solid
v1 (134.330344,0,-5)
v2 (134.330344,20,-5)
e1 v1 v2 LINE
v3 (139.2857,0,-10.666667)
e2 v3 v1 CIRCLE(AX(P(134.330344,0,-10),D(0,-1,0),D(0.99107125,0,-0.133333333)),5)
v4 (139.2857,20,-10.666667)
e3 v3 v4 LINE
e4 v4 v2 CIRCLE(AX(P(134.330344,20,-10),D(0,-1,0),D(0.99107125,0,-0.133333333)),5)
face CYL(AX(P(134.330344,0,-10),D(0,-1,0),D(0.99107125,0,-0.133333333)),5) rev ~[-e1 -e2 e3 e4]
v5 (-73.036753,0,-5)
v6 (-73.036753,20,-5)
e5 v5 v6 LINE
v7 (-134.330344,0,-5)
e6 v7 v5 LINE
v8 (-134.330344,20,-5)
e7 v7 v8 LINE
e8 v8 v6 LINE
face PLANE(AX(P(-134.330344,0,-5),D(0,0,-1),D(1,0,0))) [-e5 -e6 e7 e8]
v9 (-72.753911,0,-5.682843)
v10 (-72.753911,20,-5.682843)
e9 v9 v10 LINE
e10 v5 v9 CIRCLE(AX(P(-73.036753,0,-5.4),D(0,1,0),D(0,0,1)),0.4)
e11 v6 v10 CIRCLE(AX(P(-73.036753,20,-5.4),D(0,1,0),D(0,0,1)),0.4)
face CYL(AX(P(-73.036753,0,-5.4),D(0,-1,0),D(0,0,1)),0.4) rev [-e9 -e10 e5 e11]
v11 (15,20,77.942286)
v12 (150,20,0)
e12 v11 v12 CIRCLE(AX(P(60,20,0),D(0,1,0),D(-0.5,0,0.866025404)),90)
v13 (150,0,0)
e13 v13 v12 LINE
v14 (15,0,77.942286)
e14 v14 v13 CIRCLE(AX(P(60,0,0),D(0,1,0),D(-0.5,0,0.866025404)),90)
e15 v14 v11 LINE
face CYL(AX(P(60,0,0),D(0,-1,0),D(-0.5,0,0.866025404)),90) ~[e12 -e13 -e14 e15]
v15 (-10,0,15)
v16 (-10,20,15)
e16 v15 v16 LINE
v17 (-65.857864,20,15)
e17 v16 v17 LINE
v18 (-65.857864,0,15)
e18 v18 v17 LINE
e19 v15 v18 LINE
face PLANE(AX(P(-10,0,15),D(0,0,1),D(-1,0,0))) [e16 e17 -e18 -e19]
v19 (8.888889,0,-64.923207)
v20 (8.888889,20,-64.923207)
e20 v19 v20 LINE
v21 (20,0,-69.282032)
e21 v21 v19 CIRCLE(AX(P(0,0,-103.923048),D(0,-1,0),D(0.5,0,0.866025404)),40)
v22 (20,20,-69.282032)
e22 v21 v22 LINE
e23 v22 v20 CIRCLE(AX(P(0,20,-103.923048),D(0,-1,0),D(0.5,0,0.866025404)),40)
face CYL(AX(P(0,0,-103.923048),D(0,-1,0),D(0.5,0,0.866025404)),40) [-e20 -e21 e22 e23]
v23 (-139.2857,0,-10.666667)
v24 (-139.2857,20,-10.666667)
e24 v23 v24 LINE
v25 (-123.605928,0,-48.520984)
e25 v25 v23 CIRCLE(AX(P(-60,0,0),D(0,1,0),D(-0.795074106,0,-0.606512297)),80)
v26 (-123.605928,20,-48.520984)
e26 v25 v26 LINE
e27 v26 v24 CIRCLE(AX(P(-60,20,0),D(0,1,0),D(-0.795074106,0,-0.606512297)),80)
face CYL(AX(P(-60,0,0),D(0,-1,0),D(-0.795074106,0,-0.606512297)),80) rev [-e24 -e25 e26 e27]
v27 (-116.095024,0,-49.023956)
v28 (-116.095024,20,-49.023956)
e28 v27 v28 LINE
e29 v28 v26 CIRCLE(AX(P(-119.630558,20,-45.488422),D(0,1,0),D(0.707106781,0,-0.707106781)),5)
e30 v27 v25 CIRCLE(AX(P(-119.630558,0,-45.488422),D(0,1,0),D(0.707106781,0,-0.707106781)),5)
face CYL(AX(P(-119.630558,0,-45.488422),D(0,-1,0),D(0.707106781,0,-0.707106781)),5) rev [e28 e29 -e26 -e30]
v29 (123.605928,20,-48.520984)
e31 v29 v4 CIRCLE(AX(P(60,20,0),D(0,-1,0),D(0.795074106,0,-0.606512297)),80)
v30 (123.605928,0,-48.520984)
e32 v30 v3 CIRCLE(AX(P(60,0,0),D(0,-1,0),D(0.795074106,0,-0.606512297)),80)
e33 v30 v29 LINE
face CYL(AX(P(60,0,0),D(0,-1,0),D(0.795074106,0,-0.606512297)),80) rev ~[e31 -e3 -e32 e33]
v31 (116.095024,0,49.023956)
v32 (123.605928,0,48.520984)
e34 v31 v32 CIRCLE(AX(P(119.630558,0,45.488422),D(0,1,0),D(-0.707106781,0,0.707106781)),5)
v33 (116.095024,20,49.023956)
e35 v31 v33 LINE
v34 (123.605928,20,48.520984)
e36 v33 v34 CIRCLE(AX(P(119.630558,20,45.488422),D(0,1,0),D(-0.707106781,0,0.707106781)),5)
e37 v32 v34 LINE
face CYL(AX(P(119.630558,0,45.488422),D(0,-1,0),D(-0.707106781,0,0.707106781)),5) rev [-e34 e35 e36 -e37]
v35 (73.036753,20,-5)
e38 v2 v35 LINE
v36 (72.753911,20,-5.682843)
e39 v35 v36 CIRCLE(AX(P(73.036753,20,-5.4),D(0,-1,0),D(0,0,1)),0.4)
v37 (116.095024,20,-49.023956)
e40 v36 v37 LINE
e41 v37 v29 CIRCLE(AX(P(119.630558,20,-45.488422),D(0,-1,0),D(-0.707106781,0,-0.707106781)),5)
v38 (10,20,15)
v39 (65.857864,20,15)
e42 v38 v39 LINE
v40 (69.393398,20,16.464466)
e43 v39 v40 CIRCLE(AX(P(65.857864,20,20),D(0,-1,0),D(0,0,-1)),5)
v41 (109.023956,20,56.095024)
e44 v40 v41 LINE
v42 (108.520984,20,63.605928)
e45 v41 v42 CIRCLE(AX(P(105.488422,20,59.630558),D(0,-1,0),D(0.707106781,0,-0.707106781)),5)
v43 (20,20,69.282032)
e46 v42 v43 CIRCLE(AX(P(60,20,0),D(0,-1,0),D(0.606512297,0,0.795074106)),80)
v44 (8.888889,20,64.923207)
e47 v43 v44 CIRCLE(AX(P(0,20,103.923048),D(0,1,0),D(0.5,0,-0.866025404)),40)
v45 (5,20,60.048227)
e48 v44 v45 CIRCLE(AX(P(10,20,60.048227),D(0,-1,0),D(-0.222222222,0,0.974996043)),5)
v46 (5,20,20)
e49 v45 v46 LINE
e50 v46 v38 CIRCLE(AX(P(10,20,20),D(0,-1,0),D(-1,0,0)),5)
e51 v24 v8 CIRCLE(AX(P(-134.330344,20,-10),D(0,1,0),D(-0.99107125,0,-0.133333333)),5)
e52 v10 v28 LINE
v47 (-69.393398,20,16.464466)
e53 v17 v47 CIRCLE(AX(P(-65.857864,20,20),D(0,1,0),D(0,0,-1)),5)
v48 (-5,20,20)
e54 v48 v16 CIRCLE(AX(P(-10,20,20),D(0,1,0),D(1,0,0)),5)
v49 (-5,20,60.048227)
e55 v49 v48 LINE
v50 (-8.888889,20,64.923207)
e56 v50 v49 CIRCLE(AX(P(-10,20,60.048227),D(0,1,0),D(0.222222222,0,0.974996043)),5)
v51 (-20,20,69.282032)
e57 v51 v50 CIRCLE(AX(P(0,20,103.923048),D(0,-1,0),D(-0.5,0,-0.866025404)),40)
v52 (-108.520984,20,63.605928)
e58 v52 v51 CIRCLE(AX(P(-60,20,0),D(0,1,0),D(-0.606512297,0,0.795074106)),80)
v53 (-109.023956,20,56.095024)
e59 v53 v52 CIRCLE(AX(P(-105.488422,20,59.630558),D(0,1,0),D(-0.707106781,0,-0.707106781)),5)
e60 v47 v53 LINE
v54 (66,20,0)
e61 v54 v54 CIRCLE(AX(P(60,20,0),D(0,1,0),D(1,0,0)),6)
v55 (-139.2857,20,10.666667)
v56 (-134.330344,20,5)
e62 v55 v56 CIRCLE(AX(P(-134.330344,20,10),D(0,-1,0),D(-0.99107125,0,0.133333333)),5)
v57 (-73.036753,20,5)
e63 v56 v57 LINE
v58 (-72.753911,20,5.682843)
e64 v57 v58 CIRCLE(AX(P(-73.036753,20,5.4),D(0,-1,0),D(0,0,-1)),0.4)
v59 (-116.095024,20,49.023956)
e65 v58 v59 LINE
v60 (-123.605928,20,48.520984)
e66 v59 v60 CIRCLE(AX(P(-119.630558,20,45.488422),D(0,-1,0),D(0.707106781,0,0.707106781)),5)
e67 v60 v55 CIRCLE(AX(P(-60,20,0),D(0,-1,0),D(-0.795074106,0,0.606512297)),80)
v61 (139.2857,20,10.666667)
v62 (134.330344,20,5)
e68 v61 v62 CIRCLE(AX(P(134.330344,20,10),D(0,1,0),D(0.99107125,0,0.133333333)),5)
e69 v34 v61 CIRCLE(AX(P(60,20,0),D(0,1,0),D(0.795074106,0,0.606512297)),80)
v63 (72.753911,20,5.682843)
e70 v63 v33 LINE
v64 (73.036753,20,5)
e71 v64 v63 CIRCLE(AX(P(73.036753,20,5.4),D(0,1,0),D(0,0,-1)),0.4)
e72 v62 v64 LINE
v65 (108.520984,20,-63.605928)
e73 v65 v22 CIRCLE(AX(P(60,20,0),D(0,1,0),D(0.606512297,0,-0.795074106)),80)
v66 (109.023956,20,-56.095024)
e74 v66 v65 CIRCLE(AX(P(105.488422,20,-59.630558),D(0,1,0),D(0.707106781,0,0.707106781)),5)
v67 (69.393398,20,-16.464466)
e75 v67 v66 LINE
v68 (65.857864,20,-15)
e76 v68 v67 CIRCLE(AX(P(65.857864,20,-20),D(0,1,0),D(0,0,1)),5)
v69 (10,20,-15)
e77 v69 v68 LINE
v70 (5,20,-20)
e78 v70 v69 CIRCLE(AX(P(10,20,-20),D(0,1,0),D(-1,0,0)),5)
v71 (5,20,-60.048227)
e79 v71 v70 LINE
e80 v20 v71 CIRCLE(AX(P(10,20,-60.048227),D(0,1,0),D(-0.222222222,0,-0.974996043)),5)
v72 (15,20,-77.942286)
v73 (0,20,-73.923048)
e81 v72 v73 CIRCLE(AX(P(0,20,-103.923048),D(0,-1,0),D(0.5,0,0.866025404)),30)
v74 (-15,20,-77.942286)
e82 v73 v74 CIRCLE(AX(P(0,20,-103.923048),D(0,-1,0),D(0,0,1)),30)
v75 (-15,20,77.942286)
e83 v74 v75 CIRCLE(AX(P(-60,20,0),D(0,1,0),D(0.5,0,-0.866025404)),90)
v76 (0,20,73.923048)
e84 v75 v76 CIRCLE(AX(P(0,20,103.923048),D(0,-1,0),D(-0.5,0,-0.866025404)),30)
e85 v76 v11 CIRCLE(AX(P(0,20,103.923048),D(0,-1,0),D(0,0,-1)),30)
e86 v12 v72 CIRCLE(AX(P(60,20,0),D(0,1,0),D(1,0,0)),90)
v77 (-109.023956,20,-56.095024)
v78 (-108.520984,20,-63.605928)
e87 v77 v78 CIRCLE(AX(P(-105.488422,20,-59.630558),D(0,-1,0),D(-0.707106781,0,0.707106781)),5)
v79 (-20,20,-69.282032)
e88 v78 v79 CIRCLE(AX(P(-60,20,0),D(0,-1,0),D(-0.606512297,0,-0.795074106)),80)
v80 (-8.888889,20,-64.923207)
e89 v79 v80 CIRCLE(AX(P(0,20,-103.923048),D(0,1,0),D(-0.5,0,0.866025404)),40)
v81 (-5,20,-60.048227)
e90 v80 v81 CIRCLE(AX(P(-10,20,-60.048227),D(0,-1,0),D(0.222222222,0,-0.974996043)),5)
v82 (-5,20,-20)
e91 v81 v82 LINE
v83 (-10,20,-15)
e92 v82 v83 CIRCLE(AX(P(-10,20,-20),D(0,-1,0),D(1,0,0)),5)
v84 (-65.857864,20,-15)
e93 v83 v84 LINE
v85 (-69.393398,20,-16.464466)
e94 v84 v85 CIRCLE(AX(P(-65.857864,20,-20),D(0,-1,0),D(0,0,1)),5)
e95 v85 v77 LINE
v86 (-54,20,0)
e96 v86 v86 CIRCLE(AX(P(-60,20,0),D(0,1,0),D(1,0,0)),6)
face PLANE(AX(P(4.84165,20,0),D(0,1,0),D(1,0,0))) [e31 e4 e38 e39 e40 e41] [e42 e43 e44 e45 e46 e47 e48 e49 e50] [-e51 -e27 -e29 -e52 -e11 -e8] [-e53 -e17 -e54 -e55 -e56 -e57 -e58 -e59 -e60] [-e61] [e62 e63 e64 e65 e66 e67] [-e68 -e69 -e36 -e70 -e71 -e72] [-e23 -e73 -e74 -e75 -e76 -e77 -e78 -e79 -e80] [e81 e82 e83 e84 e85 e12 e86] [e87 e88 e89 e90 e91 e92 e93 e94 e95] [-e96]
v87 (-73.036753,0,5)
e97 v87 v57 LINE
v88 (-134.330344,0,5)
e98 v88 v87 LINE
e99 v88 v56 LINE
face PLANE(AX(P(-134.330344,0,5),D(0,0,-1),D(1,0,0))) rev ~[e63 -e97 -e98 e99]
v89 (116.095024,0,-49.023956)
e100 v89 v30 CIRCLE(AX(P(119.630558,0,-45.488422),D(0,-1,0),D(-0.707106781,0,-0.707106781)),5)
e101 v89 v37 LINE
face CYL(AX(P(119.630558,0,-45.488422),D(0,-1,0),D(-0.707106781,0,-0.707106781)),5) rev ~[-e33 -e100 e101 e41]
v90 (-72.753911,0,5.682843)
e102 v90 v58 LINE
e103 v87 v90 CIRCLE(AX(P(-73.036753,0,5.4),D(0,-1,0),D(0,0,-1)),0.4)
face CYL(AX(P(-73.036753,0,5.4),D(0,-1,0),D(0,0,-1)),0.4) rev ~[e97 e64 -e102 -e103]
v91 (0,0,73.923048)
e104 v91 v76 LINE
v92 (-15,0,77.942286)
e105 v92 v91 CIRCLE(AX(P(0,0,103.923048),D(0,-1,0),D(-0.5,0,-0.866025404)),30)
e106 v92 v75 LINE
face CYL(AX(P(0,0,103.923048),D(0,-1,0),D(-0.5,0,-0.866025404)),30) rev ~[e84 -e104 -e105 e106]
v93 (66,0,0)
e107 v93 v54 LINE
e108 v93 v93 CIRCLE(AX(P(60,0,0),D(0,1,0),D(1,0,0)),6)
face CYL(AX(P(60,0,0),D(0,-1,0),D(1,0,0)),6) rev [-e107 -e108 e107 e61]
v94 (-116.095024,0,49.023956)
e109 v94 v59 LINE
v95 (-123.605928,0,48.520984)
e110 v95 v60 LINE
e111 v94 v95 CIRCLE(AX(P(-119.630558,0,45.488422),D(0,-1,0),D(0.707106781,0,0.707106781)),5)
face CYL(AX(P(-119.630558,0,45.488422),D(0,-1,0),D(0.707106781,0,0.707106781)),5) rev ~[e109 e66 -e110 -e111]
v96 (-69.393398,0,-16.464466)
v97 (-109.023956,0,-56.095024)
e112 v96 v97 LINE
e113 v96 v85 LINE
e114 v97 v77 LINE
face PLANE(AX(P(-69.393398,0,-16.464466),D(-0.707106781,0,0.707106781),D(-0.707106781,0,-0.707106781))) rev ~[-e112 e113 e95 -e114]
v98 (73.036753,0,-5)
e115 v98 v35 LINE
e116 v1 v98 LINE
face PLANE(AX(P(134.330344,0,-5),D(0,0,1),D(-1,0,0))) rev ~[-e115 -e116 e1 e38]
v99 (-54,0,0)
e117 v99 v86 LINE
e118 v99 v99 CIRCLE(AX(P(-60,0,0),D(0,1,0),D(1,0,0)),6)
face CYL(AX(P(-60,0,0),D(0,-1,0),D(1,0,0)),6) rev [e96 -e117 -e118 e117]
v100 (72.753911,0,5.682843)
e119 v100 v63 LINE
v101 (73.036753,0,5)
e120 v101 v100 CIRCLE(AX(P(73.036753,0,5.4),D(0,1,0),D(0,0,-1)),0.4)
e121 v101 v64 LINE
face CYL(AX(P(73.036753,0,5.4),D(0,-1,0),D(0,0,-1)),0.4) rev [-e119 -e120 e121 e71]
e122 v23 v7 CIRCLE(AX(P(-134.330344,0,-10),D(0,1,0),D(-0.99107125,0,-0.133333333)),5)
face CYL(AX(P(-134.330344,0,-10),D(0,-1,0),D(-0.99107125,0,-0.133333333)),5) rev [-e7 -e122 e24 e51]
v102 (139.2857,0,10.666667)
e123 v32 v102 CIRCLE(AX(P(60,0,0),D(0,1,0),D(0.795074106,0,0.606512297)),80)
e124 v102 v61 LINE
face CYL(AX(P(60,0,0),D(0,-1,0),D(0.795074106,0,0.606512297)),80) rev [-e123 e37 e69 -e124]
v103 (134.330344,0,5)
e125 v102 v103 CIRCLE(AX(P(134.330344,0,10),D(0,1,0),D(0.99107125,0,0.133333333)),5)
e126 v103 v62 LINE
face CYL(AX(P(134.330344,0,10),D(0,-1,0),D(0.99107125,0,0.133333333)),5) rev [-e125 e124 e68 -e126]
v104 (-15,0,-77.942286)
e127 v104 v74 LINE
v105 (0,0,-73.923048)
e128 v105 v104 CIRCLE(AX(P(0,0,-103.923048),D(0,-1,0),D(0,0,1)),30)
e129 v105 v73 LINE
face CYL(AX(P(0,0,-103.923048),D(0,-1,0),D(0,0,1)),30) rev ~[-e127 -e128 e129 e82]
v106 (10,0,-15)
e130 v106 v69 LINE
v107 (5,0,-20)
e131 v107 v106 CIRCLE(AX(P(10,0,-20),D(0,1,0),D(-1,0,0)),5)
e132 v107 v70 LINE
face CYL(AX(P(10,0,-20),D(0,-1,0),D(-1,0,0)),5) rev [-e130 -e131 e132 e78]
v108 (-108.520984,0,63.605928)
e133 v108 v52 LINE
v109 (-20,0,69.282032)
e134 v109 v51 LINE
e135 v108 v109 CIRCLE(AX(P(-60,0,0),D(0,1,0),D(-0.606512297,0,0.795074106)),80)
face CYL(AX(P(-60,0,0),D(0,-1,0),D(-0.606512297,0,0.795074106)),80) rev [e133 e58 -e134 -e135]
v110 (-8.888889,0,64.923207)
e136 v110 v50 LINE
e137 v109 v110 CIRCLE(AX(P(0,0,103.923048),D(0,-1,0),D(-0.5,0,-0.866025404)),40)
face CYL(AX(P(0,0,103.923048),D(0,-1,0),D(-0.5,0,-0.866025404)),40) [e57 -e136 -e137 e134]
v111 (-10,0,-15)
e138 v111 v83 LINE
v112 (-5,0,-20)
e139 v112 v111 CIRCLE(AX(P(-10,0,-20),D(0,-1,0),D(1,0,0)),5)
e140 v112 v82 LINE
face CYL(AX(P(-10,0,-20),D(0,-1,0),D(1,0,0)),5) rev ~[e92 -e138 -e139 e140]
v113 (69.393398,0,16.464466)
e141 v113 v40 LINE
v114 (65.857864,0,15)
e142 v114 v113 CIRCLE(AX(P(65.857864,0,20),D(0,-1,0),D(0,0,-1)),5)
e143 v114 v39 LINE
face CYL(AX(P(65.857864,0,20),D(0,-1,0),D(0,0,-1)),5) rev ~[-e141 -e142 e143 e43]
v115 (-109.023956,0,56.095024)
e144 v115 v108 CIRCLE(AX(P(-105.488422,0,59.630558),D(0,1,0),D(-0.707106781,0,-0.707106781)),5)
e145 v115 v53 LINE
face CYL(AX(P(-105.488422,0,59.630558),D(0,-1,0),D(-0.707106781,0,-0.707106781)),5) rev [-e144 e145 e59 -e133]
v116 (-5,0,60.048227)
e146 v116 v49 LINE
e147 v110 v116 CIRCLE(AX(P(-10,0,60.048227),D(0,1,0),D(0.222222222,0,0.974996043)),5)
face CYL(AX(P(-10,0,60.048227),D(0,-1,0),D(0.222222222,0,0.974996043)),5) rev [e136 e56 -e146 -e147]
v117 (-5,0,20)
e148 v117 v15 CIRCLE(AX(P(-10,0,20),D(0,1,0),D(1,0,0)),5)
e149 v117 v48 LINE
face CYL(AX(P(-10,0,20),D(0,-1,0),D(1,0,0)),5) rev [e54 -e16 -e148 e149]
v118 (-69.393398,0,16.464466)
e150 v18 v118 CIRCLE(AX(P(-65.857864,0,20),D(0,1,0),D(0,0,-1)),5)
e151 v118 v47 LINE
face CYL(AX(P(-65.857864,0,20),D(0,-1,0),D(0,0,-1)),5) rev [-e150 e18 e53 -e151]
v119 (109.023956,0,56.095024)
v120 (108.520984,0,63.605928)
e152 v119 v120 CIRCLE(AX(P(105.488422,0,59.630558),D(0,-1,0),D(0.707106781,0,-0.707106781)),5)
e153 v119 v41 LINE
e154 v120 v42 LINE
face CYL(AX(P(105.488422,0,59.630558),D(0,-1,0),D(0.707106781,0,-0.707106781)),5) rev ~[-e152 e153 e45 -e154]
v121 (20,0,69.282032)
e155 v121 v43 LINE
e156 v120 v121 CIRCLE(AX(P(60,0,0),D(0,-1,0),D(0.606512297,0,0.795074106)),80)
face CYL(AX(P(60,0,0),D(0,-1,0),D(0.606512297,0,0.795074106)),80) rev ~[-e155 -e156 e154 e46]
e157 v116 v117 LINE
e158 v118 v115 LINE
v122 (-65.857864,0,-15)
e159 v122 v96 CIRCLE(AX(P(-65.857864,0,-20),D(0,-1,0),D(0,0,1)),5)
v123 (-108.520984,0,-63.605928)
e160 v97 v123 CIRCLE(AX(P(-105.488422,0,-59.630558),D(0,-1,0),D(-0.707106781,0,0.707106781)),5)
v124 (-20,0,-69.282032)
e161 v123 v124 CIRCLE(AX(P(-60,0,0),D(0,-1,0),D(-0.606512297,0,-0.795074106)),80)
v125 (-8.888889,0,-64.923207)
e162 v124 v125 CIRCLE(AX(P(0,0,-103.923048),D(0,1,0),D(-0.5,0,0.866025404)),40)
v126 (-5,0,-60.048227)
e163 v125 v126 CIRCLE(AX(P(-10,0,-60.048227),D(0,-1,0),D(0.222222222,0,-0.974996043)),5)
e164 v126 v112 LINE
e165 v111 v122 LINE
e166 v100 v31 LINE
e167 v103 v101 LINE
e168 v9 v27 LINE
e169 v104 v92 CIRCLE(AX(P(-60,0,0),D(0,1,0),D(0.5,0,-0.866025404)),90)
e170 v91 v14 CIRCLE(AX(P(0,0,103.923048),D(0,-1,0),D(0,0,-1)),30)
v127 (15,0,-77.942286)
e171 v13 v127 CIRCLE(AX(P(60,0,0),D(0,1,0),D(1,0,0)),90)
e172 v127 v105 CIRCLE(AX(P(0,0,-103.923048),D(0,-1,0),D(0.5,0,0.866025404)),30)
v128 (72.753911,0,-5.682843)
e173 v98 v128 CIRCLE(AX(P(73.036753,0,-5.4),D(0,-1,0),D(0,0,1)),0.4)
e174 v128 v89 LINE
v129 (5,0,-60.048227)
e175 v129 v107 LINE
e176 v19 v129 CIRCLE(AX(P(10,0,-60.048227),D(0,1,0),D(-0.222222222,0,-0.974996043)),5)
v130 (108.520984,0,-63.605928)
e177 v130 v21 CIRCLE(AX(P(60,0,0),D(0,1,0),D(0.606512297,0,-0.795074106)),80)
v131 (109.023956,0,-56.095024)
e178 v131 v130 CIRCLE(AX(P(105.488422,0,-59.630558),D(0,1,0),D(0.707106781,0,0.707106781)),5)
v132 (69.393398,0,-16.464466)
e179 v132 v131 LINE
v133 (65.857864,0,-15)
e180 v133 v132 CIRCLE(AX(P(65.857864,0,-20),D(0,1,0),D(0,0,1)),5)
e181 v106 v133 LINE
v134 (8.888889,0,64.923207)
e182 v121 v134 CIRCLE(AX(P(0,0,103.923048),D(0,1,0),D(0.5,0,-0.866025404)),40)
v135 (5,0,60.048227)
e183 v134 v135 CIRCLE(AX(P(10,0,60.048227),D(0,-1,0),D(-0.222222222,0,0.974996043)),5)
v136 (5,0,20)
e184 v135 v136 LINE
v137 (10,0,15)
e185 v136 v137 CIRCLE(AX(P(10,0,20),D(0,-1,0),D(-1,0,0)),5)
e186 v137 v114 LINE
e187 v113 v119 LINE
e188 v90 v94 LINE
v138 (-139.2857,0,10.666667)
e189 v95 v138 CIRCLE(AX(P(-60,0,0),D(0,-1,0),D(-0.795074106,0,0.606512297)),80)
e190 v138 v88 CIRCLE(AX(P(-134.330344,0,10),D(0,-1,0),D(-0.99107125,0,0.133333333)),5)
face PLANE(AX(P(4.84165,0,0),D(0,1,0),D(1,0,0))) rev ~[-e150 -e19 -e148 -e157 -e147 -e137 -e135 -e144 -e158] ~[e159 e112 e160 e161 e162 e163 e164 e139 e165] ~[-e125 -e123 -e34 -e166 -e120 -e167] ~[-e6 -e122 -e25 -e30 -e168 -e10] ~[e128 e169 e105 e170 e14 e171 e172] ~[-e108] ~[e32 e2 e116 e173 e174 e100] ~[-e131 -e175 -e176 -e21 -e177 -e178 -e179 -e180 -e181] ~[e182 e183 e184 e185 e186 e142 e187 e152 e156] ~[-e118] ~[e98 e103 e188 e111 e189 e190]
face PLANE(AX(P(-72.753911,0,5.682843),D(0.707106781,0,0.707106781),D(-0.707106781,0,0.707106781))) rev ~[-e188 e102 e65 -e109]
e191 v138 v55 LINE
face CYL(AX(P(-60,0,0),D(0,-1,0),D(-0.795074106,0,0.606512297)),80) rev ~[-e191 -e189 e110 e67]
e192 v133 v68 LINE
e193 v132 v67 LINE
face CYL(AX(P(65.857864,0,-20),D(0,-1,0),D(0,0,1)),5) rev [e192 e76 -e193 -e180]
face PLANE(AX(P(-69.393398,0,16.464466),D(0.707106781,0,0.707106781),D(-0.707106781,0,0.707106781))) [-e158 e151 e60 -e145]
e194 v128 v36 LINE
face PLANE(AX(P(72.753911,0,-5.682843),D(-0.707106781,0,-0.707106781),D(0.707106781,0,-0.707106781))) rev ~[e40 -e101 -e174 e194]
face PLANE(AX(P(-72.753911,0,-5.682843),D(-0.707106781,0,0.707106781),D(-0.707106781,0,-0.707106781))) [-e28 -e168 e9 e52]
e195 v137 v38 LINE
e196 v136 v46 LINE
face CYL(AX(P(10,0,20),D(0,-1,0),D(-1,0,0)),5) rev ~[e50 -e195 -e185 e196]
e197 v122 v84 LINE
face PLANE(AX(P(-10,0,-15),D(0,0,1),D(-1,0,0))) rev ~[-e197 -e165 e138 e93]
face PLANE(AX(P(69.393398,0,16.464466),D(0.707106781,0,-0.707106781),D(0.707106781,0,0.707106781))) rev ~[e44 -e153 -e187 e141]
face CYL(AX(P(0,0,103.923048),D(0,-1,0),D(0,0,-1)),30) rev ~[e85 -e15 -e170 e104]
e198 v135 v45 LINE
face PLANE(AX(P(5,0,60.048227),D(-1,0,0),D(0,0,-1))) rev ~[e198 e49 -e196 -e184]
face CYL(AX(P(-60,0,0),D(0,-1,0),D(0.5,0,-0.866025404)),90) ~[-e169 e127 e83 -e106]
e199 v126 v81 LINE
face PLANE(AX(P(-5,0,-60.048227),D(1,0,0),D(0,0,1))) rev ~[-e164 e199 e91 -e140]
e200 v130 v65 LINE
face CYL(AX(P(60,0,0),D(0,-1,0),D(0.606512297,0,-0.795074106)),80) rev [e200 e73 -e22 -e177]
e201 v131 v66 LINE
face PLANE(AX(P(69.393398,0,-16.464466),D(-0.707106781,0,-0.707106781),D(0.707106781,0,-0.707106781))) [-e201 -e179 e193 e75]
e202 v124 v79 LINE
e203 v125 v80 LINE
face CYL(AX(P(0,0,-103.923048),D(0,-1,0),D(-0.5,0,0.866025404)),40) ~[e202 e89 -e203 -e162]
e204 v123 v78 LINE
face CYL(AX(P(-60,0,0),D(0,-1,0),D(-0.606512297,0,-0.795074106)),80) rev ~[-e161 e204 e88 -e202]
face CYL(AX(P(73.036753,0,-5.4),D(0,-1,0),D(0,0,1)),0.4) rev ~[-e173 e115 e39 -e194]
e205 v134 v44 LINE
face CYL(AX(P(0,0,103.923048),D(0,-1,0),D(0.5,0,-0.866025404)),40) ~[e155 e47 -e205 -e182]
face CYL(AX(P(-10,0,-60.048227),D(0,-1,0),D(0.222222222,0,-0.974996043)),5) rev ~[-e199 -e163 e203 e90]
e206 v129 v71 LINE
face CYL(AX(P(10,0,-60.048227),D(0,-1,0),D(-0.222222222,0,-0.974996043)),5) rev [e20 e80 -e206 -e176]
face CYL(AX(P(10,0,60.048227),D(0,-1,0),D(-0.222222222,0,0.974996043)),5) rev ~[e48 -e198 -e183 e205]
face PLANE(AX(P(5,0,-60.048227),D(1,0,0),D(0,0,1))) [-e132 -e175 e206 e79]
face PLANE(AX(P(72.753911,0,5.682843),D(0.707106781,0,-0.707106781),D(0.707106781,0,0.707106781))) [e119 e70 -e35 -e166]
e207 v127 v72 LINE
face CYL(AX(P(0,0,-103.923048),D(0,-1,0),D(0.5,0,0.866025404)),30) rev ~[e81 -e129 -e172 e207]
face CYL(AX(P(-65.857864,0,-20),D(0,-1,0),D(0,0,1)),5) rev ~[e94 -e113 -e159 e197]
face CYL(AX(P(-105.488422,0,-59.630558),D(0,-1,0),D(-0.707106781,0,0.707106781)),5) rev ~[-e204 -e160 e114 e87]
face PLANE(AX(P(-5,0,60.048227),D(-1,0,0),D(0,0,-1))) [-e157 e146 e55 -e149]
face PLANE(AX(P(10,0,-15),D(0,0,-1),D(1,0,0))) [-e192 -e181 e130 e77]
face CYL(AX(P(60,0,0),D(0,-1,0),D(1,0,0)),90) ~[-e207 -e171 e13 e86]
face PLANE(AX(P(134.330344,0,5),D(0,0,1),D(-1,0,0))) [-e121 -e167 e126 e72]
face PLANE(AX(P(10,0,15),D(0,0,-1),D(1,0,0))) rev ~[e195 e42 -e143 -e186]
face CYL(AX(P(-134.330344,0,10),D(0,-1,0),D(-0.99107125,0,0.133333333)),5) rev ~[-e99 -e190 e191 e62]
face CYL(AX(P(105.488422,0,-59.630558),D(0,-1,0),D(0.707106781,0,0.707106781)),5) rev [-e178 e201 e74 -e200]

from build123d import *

# Parameters (mm, degrees)
SKETCH2_R           = 6
BOSS_EXTRUDE1_DEPTH = 20


with BuildPart() as part:
    # Sketch2 → Boss-Extrude1 (new body)
    with BuildSketch(Plane(origin=(0, 0, 0), x_dir=(1, 0, 0), z_dir=(0, 1, 0))):
        with BuildLine():
            ThreePointArc((150, 0), (105, 77.942286341), (15, 77.942286341))
            ThreePointArc((15, 77.942286341), (7.764571353, 74.945273665), (0, 73.923048454))
            ThreePointArc((0, 73.923048454), (-7.764571353, 74.945273665), (-15, 77.942286341))
            ThreePointArc((-15, 77.942286341), (-150, 0), (-15, -77.942286341))
            ThreePointArc((-15, -77.942286341), (-7.764571353, -74.945273665), (0, -73.923048454))
            ThreePointArc((0, -73.923048454), (7.764571353, -74.945273665), (15, -77.942286341))
            ThreePointArc((15, -77.942286341), (105, -77.942286341), (150, 0))
        make_face()
        with Locations((60, 0)):
            Circle(SKETCH2_R, mode=Mode.SUBTRACT)
        with Locations((-60, 0)):
            Circle(SKETCH2_R, mode=Mode.SUBTRACT)
        with BuildLine():
            Line((5, 60.048226517), (5, 20))
            ThreePointArc((5, 20), (6.464466094, 16.464466094), (10, 15))
            Line((10, 15), (65.857864376, 15))
            ThreePointArc((65.857864376, 15), (67.771281538, 15.380602337), (69.393398282, 16.464466094))
            Line((69.393398282, 16.464466094), (109.023956198, 56.09502401))
            ThreePointArc((109.023956198, 56.09502401), (110.47724887, 59.964637812), (108.520983778, 63.605928444))
            ThreePointArc((108.520983778, 63.605928444), (65.119211843, 79.836042425), (20, 69.282032303))
            ThreePointArc((20, 69.282032303), (14.607936726, 66.68586026), (8.888888889, 64.923206732))
            ThreePointArc((8.888888889, 64.923206732), (6.0913202, 63.166274339), (5, 60.048226517))
        make_face(mode=Mode.SUBTRACT)
        with BuildLine():
            Line((134.330343737, 5), (73.036753237, 5))
            ThreePointArc((73.036753237, 5), (72.667201424, 5.246926627), (72.753910524, 5.682842712))
            Line((72.753910524, 5.682842712), (116.09502401, 49.023956198))
            ThreePointArc((116.09502401, 49.023956198), (119.964637812, 50.47724887), (123.605928444, 48.520983778))
            ThreePointArc((123.605928444, 48.520983778), (133.910362601, 30.614674589), (139.285699986, 10.666666667))
            ThreePointArc((139.285699986, 10.666666667), (138.094207, 6.708597057), (134.330343737, 5))
        make_face(mode=Mode.SUBTRACT)
        with BuildLine():
            Line((-72.753910524, 5.682842712), (-116.09502401, 49.023956198))
            ThreePointArc((-116.09502401, 49.023956198), (-119.964637812, 50.47724887), (-123.605928444, 48.520983778))
            ThreePointArc((-123.605928444, 48.520983778), (-133.910362601, 30.614674589), (-139.285699986, 10.666666667))
            ThreePointArc((-139.285699986, 10.666666667), (-138.094207, 6.708597057), (-134.330343737, 5))
            Line((-134.330343737, 5), (-73.036753237, 5))
            ThreePointArc((-73.036753237, 5), (-72.667201424, 5.246926627), (-72.753910524, 5.682842712))
        make_face(mode=Mode.SUBTRACT)
        with BuildLine():
            Line((-69.393398282, 16.464466094), (-109.023956198, 56.09502401))
            ThreePointArc((-109.023956198, 56.09502401), (-110.47724887, 59.964637812), (-108.520983778, 63.605928444))
            ThreePointArc((-108.520983778, 63.605928444), (-65.119211843, 79.836042425), (-20, 69.282032303))
            ThreePointArc((-20, 69.282032303), (-14.607936726, 66.68586026), (-8.888888889, 64.923206732))
            ThreePointArc((-8.888888889, 64.923206732), (-6.0913202, 63.166274339), (-5, 60.048226517))
            Line((-5, 60.048226517), (-5, 20))
            ThreePointArc((-5, 20), (-6.464466094, 16.464466094), (-10, 15))
            Line((-10, 15), (-65.857864376, 15))
            ThreePointArc((-65.857864376, 15), (-67.771281538, 15.380602337), (-69.393398282, 16.464466094))
        make_face(mode=Mode.SUBTRACT)
        with BuildLine():
            Line((-5, -60.048226517), (-5, -20))
            ThreePointArc((-5, -20), (-6.464466094, -16.464466094), (-10, -15))
            Line((-10, -15), (-65.857864376, -15))
            ThreePointArc((-65.857864376, -15), (-67.771281538, -15.380602337), (-69.393398282, -16.464466094))
            Line((-69.393398282, -16.464466094), (-109.023956198, -56.09502401))
            ThreePointArc((-109.023956198, -56.09502401), (-110.47724887, -59.964637812), (-108.520983778, -63.605928444))
            ThreePointArc((-108.520983778, -63.605928444), (-65.119211843, -79.836042425), (-20, -69.282032303))
            ThreePointArc((-20, -69.282032303), (-14.607936726, -66.68586026), (-8.888888889, -64.923206732))
            ThreePointArc((-8.888888889, -64.923206732), (-6.0913202, -63.166274339), (-5, -60.048226517))
        make_face(mode=Mode.SUBTRACT)
        with BuildLine():
            Line((-134.330343737, -5), (-73.036753237, -5))
            ThreePointArc((-73.036753237, -5), (-72.667201424, -5.246926627), (-72.753910524, -5.682842712))
            Line((-72.753910524, -5.682842712), (-116.09502401, -49.023956198))
            ThreePointArc((-116.09502401, -49.023956198), (-119.964637812, -50.47724887), (-123.605928444, -48.520983778))
            ThreePointArc((-123.605928444, -48.520983778), (-133.910362601, -30.614674589), (-139.285699986, -10.666666667))
            ThreePointArc((-139.285699986, -10.666666667), (-138.094207, -6.708597057), (-134.330343737, -5))
        make_face(mode=Mode.SUBTRACT)
        with BuildLine():
            Line((72.753910524, -5.682842712), (116.09502401, -49.023956198))
            ThreePointArc((116.09502401, -49.023956198), (119.964637812, -50.47724887), (123.605928444, -48.520983778))
            ThreePointArc((123.605928444, -48.520983778), (133.910362601, -30.614674589), (139.285699986, -10.666666667))
            ThreePointArc((139.285699986, -10.666666667), (138.094207, -6.708597057), (134.330343737, -5))
            Line((134.330343737, -5), (73.036753237, -5))
            ThreePointArc((73.036753237, -5), (72.667201424, -5.246926627), (72.753910524, -5.682842712))
        make_face(mode=Mode.SUBTRACT)
        with BuildLine():
            Line((69.393398282, -16.464466094), (109.023956198, -56.09502401))
            ThreePointArc((109.023956198, -56.09502401), (110.47724887, -59.964637812), (108.520983778, -63.605928444))
            ThreePointArc((108.520983778, -63.605928444), (65.119211843, -79.836042425), (20, -69.282032303))
            ThreePointArc((20, -69.282032303), (14.607936726, -66.68586026), (8.888888889, -64.923206732))
            ThreePointArc((8.888888889, -64.923206732), (6.0913202, -63.166274339), (5, -60.048226517))
            Line((5, -60.048226517), (5, -20))
            ThreePointArc((5, -20), (6.464466094, -16.464466094), (10, -15))
            Line((10, -15), (65.857864376, -15))
            ThreePointArc((65.857864376, -15), (67.771281538, -15.380602337), (69.393398282, -16.464466094))
        make_face(mode=Mode.SUBTRACT)
    extrude(amount=BOSS_EXTRUDE1_DEPTH)


solid = part.part
